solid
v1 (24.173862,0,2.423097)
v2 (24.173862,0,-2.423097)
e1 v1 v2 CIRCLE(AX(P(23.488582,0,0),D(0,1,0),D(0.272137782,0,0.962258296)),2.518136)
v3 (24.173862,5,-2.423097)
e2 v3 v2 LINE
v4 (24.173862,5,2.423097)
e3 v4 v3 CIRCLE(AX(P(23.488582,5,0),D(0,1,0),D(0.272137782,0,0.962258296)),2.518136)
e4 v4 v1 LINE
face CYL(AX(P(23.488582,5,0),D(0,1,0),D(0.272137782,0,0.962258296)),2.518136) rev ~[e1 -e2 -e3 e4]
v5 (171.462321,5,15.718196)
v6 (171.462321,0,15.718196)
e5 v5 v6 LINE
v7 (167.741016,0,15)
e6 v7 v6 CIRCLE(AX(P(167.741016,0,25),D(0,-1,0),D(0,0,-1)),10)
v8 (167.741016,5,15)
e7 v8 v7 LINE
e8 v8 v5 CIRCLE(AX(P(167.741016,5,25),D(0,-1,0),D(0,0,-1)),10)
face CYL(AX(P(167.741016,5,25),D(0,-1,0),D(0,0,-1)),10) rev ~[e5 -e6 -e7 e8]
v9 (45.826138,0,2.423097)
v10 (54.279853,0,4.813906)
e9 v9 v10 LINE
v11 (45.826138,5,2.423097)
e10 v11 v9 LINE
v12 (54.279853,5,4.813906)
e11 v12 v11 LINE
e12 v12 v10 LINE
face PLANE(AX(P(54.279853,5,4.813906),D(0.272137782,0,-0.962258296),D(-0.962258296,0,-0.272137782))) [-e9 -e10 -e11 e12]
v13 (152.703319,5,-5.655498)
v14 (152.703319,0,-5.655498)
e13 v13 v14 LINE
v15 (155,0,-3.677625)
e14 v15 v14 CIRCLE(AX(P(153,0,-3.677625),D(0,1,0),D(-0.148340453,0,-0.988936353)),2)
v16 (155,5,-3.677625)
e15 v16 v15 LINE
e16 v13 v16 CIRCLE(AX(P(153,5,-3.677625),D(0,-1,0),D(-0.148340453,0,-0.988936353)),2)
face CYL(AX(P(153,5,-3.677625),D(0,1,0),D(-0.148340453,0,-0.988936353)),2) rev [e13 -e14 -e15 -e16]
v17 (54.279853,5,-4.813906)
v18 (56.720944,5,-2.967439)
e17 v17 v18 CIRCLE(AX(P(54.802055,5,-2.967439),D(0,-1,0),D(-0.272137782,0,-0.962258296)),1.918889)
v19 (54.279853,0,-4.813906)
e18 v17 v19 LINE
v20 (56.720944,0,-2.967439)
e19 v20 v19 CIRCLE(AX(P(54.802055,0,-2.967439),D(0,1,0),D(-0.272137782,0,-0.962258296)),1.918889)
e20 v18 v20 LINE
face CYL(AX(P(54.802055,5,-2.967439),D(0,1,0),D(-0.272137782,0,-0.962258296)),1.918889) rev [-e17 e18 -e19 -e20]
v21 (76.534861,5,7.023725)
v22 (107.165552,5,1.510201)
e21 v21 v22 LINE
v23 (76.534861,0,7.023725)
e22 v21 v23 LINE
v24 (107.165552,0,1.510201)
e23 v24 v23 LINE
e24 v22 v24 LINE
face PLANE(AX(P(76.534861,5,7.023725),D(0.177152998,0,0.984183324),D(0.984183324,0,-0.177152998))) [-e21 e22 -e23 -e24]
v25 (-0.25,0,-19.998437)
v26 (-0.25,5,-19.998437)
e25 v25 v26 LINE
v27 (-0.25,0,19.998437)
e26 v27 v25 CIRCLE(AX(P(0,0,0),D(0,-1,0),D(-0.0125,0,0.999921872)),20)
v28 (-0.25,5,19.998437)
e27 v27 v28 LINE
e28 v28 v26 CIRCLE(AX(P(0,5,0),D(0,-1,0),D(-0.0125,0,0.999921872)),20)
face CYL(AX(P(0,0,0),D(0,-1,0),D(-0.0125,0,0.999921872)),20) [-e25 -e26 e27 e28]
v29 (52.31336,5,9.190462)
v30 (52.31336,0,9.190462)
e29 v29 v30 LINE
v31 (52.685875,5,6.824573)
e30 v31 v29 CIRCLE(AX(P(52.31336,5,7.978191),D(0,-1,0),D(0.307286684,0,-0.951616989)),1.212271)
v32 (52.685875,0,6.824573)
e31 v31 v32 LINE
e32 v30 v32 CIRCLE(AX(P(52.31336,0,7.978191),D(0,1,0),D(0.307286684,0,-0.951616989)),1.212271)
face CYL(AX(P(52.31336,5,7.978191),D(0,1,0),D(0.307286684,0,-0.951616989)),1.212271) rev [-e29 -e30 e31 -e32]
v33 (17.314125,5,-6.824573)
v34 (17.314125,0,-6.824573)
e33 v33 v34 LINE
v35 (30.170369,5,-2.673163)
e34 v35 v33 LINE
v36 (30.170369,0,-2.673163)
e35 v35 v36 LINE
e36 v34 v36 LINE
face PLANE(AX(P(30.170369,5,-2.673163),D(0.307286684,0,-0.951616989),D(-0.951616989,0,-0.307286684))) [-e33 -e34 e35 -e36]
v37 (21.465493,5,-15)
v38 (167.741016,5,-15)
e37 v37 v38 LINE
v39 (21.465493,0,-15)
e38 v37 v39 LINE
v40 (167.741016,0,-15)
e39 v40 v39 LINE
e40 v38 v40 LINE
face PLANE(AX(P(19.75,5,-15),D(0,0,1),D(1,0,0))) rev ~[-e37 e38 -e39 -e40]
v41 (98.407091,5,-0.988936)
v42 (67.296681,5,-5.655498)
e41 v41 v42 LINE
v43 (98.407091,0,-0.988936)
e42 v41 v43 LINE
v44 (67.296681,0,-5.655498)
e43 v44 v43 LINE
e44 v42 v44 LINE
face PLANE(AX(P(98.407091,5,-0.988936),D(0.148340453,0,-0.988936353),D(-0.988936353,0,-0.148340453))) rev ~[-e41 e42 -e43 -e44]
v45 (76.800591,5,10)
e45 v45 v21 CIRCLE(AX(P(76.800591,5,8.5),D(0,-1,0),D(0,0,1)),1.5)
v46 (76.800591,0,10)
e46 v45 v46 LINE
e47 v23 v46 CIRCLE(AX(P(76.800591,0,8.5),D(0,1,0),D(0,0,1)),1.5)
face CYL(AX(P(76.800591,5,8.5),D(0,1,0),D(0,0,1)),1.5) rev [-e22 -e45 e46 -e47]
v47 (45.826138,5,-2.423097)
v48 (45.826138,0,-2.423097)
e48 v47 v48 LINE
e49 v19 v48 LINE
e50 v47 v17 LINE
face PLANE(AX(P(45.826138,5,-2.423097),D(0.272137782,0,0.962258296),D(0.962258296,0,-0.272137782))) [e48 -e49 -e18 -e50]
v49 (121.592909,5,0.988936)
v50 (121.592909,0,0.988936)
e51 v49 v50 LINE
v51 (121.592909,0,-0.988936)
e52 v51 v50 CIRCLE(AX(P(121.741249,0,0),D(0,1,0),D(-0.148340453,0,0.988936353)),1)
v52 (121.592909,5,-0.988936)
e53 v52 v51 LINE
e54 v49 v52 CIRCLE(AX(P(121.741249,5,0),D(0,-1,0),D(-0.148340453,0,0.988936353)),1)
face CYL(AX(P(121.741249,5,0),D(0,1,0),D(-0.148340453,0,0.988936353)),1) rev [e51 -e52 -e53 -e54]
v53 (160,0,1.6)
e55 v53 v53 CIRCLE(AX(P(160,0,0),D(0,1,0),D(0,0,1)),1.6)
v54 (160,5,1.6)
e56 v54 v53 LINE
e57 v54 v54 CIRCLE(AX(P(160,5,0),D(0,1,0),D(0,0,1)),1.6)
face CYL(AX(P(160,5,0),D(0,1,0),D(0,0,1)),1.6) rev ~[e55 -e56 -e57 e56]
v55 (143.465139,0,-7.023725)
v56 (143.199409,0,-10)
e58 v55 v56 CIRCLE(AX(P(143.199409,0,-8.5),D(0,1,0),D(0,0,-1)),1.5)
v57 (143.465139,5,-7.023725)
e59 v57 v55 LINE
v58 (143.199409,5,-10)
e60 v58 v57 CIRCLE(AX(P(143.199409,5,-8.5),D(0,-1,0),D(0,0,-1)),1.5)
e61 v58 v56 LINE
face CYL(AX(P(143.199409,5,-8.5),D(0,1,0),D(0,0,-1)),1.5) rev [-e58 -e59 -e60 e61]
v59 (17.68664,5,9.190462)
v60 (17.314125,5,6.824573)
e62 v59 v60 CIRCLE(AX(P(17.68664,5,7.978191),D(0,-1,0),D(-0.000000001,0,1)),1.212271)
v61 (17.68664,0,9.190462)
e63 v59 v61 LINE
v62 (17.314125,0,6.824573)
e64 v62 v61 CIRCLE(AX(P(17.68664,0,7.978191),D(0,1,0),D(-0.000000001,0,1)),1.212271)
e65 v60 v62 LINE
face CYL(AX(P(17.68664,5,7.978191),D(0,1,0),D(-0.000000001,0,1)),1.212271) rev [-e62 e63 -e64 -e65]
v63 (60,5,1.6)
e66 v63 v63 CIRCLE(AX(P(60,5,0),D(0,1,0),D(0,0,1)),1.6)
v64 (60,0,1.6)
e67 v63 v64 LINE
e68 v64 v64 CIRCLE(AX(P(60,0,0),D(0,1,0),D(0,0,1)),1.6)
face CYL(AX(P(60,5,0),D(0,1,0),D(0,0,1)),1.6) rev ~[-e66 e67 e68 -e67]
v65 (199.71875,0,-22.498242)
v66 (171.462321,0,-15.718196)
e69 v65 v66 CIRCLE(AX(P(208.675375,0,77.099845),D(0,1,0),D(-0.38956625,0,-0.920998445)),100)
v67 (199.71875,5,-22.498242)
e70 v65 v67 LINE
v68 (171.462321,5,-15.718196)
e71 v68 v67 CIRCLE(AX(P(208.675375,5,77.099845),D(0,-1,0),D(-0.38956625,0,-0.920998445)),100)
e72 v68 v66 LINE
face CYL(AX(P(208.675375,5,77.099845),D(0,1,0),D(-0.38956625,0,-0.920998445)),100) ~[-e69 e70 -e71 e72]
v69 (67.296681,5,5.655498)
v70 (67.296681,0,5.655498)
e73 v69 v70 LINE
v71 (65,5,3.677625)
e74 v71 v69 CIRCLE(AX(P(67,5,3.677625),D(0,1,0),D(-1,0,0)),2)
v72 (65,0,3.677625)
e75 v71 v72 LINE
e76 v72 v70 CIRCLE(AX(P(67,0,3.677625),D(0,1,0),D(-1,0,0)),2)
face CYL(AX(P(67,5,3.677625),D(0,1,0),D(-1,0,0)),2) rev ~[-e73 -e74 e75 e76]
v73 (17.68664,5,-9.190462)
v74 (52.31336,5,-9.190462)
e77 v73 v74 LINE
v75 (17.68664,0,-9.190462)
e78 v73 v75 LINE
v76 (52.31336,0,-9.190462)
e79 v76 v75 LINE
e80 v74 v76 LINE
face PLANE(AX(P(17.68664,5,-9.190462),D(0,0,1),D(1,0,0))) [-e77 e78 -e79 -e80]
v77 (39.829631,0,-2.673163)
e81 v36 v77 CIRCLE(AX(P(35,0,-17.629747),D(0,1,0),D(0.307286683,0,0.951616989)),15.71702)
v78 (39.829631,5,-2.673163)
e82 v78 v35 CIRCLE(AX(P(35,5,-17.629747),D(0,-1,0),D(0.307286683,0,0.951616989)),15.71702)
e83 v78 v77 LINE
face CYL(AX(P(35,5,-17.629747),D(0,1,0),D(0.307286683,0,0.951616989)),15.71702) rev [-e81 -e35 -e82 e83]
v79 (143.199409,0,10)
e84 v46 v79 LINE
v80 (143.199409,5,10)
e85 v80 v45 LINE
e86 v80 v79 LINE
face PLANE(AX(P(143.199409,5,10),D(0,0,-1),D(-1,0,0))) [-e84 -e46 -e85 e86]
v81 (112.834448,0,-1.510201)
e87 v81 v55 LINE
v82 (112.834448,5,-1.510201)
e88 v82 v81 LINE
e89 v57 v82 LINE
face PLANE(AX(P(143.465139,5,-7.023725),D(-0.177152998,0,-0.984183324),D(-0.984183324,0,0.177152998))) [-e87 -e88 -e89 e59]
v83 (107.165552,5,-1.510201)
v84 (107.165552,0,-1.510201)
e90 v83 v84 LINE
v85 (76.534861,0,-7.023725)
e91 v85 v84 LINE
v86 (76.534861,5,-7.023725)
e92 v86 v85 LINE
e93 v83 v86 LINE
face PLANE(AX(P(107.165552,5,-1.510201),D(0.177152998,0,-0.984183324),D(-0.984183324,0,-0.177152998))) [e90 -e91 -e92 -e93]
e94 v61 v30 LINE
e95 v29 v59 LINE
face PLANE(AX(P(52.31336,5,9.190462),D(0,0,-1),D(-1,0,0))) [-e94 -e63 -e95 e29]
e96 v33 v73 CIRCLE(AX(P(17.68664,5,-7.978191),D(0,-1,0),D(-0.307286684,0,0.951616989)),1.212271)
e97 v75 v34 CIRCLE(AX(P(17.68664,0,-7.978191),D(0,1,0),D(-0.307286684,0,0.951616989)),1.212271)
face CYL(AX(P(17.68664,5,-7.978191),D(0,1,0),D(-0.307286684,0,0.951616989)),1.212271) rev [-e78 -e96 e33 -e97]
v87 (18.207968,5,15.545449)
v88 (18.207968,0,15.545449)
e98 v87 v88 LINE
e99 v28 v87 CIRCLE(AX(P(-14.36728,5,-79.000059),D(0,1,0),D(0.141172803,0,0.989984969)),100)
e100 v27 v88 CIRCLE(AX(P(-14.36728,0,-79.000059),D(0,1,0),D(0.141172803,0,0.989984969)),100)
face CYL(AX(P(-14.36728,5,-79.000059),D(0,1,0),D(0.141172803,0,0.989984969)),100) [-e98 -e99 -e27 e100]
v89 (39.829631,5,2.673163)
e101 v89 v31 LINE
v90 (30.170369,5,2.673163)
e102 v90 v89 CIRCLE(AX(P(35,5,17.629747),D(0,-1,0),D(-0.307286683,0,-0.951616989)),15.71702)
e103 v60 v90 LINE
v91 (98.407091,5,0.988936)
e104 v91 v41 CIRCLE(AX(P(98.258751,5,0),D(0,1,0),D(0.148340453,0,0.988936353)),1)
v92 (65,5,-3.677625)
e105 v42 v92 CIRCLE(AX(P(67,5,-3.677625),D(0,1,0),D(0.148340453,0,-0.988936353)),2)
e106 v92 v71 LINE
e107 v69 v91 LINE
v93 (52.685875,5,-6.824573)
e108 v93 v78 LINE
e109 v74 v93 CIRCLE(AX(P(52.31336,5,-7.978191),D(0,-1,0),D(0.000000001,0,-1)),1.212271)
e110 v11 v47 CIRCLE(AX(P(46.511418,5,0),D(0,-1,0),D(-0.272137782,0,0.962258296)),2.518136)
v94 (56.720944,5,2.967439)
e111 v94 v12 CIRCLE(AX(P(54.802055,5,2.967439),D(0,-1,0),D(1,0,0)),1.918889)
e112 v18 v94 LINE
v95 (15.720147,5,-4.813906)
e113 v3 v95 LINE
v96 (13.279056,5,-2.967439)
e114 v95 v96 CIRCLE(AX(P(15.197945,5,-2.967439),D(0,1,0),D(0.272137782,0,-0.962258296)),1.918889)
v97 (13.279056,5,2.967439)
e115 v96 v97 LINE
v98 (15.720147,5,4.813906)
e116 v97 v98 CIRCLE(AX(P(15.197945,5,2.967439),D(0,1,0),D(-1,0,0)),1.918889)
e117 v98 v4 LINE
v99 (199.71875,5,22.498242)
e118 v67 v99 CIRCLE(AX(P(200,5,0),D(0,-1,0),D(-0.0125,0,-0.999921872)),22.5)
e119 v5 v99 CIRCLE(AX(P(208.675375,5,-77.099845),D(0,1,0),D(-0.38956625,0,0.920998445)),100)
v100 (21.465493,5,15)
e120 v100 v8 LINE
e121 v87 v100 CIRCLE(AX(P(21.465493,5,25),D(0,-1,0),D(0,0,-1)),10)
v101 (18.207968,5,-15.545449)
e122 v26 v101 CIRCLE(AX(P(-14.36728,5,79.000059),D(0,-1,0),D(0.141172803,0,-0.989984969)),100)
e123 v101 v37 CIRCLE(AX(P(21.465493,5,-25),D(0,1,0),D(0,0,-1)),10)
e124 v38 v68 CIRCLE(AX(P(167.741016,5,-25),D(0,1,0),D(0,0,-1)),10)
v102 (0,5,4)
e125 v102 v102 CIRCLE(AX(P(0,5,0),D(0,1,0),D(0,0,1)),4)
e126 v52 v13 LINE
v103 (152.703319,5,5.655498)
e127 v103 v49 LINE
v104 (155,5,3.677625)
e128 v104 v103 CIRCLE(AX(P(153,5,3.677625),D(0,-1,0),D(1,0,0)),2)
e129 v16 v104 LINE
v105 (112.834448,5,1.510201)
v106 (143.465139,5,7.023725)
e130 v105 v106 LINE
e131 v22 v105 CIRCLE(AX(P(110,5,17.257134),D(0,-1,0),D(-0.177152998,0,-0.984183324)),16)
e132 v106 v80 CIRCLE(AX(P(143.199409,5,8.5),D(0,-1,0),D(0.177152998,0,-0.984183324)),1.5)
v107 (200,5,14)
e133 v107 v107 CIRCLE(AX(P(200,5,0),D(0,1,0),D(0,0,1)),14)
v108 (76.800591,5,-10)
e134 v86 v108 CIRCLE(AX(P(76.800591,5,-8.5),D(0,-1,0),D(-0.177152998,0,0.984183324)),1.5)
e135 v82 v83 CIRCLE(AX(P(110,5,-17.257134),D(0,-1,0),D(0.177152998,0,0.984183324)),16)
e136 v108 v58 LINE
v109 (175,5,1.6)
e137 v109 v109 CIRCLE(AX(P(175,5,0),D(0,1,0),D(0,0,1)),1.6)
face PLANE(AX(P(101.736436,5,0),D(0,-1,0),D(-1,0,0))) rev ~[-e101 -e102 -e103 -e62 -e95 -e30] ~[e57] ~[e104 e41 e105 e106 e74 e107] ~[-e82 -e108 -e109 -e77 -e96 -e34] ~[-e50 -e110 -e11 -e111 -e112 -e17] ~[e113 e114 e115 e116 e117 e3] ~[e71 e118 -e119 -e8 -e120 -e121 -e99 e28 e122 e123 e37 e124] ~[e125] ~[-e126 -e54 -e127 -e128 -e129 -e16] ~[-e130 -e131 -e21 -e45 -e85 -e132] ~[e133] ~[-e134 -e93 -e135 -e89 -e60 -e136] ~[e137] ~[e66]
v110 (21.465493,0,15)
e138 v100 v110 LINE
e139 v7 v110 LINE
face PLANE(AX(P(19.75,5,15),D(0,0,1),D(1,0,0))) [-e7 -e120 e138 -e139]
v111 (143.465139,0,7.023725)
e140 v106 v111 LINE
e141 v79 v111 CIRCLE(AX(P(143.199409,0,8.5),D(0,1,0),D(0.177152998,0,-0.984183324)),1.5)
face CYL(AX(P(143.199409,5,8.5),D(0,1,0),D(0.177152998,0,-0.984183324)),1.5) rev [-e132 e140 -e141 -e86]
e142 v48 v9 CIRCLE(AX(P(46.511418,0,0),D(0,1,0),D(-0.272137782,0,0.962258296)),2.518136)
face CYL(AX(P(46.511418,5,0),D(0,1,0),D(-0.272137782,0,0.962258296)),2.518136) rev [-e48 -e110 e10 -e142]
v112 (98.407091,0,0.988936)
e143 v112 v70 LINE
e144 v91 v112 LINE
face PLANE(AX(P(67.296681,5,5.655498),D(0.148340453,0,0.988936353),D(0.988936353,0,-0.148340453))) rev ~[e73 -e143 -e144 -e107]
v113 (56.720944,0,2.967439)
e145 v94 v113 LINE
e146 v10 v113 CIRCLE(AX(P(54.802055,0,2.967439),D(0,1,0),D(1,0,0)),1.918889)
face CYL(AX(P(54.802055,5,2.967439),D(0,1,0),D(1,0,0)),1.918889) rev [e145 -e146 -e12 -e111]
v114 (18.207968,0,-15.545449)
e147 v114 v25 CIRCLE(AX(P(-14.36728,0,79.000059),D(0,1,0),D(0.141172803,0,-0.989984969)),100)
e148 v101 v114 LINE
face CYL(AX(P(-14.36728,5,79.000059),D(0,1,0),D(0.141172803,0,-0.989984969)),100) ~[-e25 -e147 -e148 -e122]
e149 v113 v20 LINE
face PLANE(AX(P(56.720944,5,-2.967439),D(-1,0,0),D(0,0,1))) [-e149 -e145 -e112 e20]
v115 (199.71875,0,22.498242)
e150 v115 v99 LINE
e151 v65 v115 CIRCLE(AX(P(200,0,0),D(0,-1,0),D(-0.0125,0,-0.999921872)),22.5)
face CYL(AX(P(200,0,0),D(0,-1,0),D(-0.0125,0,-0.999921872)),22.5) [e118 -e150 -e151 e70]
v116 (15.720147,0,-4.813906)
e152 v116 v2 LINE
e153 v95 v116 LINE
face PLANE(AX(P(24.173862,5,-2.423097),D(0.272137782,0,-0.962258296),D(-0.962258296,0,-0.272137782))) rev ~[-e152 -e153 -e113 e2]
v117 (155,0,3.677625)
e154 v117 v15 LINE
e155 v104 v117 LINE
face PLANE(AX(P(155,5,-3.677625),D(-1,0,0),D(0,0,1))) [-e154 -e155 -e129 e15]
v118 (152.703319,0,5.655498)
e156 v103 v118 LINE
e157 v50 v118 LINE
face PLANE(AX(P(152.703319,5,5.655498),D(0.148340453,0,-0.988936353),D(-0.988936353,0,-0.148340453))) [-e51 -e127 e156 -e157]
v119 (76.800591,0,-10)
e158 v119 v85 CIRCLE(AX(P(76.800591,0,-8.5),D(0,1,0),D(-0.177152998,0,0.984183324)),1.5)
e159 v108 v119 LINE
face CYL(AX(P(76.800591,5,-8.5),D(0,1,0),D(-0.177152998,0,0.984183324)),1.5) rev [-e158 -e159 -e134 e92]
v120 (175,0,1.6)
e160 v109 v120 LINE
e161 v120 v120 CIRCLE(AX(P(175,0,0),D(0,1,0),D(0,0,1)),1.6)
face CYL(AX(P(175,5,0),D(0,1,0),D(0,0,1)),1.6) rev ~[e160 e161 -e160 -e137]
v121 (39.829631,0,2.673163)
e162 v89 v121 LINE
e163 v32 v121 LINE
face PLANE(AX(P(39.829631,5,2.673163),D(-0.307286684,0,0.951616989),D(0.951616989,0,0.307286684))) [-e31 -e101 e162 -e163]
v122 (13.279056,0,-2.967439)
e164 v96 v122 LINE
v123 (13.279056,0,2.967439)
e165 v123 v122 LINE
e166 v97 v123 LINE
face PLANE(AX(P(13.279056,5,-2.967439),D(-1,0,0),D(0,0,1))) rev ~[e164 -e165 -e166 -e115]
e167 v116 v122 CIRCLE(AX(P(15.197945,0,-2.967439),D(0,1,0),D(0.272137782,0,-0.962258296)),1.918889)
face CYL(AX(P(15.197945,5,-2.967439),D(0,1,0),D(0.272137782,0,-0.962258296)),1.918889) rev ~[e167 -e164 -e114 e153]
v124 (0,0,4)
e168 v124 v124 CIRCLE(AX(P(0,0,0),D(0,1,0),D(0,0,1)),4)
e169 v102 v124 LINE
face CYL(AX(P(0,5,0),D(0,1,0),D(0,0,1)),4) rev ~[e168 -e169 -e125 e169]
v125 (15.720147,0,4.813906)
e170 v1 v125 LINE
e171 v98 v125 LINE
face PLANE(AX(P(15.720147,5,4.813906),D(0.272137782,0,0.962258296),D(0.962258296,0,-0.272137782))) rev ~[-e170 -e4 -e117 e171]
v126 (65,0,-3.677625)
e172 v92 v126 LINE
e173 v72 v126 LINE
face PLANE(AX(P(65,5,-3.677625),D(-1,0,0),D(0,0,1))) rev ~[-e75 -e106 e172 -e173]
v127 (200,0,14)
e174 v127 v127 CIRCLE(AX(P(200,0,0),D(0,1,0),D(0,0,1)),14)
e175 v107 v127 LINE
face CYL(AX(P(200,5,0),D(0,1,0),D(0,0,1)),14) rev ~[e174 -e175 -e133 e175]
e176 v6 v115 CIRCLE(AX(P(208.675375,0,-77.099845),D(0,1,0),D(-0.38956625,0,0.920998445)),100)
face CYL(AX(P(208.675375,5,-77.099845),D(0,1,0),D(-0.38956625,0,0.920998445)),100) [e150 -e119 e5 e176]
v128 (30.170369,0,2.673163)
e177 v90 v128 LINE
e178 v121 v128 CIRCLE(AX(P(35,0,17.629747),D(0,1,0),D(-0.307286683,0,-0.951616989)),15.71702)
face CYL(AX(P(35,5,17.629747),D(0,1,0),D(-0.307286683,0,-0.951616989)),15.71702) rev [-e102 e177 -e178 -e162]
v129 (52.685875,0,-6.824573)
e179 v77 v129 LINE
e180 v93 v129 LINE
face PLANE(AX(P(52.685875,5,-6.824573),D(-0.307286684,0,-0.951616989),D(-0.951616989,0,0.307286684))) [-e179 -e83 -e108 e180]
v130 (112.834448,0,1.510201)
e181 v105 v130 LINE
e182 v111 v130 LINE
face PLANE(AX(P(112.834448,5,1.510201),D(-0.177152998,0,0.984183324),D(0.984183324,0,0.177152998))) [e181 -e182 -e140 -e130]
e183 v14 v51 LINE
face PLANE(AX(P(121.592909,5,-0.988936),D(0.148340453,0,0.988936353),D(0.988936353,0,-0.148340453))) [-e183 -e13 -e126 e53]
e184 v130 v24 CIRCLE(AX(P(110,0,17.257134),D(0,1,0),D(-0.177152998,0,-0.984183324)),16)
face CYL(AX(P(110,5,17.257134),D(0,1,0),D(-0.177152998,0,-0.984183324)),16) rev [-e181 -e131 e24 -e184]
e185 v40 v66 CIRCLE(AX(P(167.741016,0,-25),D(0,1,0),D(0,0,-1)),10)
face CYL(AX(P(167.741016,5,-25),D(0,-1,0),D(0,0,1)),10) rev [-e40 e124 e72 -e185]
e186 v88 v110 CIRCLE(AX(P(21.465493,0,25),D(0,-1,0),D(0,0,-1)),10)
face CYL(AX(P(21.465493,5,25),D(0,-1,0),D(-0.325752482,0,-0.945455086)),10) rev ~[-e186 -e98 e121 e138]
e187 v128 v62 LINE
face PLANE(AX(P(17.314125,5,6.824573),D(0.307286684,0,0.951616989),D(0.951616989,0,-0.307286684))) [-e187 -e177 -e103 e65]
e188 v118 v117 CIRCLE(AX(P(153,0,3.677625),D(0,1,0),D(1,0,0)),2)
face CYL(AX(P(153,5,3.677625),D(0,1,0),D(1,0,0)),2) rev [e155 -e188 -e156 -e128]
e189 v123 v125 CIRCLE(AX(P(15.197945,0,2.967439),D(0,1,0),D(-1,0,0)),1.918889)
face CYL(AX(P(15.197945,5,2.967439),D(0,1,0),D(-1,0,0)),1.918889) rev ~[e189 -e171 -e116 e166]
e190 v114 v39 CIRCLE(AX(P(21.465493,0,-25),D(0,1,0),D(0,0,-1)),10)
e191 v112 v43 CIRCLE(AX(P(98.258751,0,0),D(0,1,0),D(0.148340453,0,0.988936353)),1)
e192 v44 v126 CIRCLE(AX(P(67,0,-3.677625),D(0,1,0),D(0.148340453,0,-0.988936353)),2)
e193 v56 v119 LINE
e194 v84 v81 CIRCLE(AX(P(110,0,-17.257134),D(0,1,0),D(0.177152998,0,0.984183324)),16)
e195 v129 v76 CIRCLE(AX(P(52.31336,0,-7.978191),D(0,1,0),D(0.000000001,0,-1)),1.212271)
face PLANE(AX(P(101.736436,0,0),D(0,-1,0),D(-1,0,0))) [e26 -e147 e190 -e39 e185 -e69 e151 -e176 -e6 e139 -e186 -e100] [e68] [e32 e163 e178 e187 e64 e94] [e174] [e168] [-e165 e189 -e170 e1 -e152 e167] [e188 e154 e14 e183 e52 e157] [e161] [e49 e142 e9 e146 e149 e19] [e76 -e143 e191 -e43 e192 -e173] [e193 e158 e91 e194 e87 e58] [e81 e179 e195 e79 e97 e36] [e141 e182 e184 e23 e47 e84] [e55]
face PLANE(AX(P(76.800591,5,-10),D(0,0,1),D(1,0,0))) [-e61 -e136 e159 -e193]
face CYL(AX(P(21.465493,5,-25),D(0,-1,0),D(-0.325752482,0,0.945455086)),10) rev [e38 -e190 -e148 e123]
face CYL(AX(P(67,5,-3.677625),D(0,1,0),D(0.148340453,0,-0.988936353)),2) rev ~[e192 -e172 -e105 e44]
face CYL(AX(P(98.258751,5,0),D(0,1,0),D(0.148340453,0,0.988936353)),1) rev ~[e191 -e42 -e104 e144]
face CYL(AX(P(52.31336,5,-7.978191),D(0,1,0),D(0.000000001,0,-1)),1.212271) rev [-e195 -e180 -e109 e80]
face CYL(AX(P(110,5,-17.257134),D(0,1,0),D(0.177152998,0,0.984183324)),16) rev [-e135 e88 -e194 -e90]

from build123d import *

# Parameters (mm, degrees)
EXTRUDE_1_DEPTH     = 5
SKETCH_2_R          = 4
CUT_EXTRUDE_1_DEPTH = 6
SKETCH_3_R          = 14
CUT_EXTRUDE_2_DEPTH = 10
CUT_EXTRUDE_4_DEPTH = 224.690634583
FILLET_1_R          = 10
SKETCH_11_R         = 1.6
CUT_EXTRUDE_5_DEPTH = 224.690634583
CUT_EXTRUDE_6_DEPTH = 10


with BuildPart() as part:
    # 草图1 → 凸台-拉伸1 (new body)
    with BuildSketch(Plane(origin=(0, 0, 0), x_dir=(1, 0, 0), z_dir=(0, 1, 0))):
        with BuildLine():
            Line((-0.25, 19.998437439), (199.71875, 22.498242119))
            ThreePointArc((199.71875, 22.498242119), (222.5, 0), (199.71875, -22.498242119))
            Line((199.71875, -22.498242119), (-0.25, -19.998437439))
            ThreePointArc((-0.25, -19.998437439), (-20, 0), (-0.25, 19.998437439))
        make_face()
    extrude(amount=EXTRUDE_1_DEPTH)

    # 草图2 → 切除-拉伸1 (cut)
    with BuildSketch(Plane(origin=(0, 5, 0), x_dir=(1, 0, 0), z_dir=(0, 1, 0))):
        with Locations(Location((0, 0, 0), (0, 0, 270))):
            Circle(SKETCH_2_R)
    extrude(amount=-CUT_EXTRUDE_1_DEPTH, mode=Mode.SUBTRACT)

    # 草图3 → 切除-拉伸2 (cut)
    with BuildSketch(Plane(origin=(0, 5, 0), x_dir=(1, 0, 0), z_dir=(0, 1, 0))):
        with Locations(Location((200, 0, 0), (0, 0, 270))):
            Circle(SKETCH_3_R)
    extrude(amount=-CUT_EXTRUDE_2_DEPTH, mode=Mode.SUBTRACT)

    # 草图10 → 切除-拉伸4 (cut, through all)
    with BuildSketch(Plane(origin=(0, 5, 0), x_dir=(1, 0, 0), z_dir=(0, 1, 0))):
        with BuildLine():
            Line((19.75, 15), (169.71875, 15))
            ThreePointArc((169.71875, 15), (184.427162899, 19.915742901), (199.71875, 22.498242119))
            Line((199.71875, 22.498242119), (-0.25, 19.998437439))
            ThreePointArc((-0.25, 19.998437439), (9.879148371, 18.015973695), (19.75, 15))
        make_face()
        with BuildLine():
            Line((19.75, -15), (169.71875, -15))
            ThreePointArc((169.71875, -15), (184.427162899, -19.915742901), (199.71875, -22.498242119))
            Line((199.71875, -22.498242119), (-0.25, -19.998437439))
            ThreePointArc((-0.25, -19.998437439), (9.879148371, -18.015973695), (19.75, -15))
        make_face()
    extrude(amount=-CUT_EXTRUDE_4_DEPTH, mode=Mode.SUBTRACT)

    # 圆角1
    fillet_1_edges = [part.edges().sort_by_distance(p)[0] for p in [
        (169.71875, 2.5, 15),
        (19.75, 2.5, 15),
        (19.75, 2.5, -15),
        (169.71875, 2.5, -15),
    ]]
    fillet(fillet_1_edges, radius=FILLET_1_R)

    # 草图11 → 切除-拉伸5 (cut, through all)
    with BuildSketch(Plane(origin=(0, 5, 0), x_dir=(1, 0, 0), z_dir=(0, 1, 0))):
        with Locations(Location((160, 0, 0), (0, 0, 270))):
            Circle(SKETCH_11_R)
        with Locations(Location((60, 0, 0), (0, 0, 270))):
            Circle(SKETCH_11_R)
        with Locations(Location((175, 0, 0), (0, 0, 270))):
            Circle(SKETCH_11_R)
        with BuildLine():
            Line((76.800590531, 10), (143.199409469, 10))
            ThreePointArc((143.199409469, 10), (144.693466443, 8.633393255), (143.465138967, 7.023725014))
            Line((143.465138967, 7.023725014), (112.834447973, 1.510200635))
            ThreePointArc((112.834447973, 1.510200635), (110, 1.257133819), (107.165552027, 1.510200635))
            Line((107.165552027, 1.510200635), (76.534861033, 7.023725014))
            ThreePointArc((76.534861033, 7.023725014), (75.306533557, 8.633393255), (76.800590531, 10))
        make_face()
        with BuildLine():
            Line((65, 3.677625158), (65, -3.677625158))
            ThreePointArc((65, -3.677625158), (65.694887325, -5.193105579), (67.296680906, -5.655497864))
            Line((67.296680906, -5.655497864), (98.407090981, -0.988936353))
            ThreePointArc((98.407090981, -0.988936353), (99.258750528, 0), (98.407090981, 0.988936353))
            Line((98.407090981, 0.988936353), (67.296680906, 5.655497864))
            ThreePointArc((67.296680906, 5.655497864), (65.694887325, 5.193105579), (65, 3.677625158))
        make_face()
        with BuildLine():
            Line((155, 3.677625158), (155, -3.677625158))
            ThreePointArc((155, -3.677625158), (154.305112675, -5.193105579), (152.703319094, -5.655497864))
            Line((152.703319094, -5.655497864), (121.592909019, -0.988936353))
            ThreePointArc((121.592909019, -0.988936353), (120.741249472, 0), (121.592909019, 0.988936353))
            Line((121.592909019, 0.988936353), (152.703319094, 5.655497864))
            ThreePointArc((152.703319094, 5.655497864), (154.305112675, 5.193105579), (155, 3.677625158))
        make_face()
        with BuildLine():
            Line((76.534861033, -7.023725014), (107.165552027, -1.510200635))
            ThreePointArc((107.165552027, -1.510200635), (110, -1.257133819), (112.834447973, -1.510200635))
            Line((112.834447973, -1.510200635), (143.465138967, -7.023725014))
            ThreePointArc((143.465138967, -7.023725014), (144.693466443, -8.633393255), (143.199409469, -10))
            Line((143.199409469, -10), (76.800590531, -10))
            ThreePointArc((76.800590531, -10), (75.306533557, -8.633393255), (76.534861033, -7.023725014))
        make_face()
    extrude(amount=-CUT_EXTRUDE_5_DEPTH, mode=Mode.SUBTRACT)

    # 草图12 → 切除-拉伸6 (cut)
    with BuildSketch(Plane(origin=(0, 5, 0), x_dir=(1, 0, 0), z_dir=(0, 1, 0))):
        with BuildLine():
            Line((17.686639759, 9.190462064), (52.313360241, 9.190462064))
            ThreePointArc((52.313360241, 9.190462064), (53.510878101, 8.166743105), (52.685874964, 6.82457346))
            Line((52.685874964, 6.82457346), (39.829631092, 2.67316319))
            ThreePointArc((39.829631092, 2.67316319), (35, 1.91272642), (30.170368908, 2.67316319))
            Line((30.170368908, 2.67316319), (17.314125036, 6.82457346))
            ThreePointArc((17.314125036, 6.82457346), (16.489121899, 8.166743105), (17.686639759, 9.190462064))
        make_face()
        with BuildLine():
            Line((13.279055715, 2.967439032), (13.279055715, -2.967439032))
            ThreePointArc((13.279055715, -2.967439032), (14.040342171, -4.497828215), (15.720146666, -4.813905705))
            Line((15.720146666, -4.813905705), (24.173861919, -2.423097202))
            ThreePointArc((24.173861919, -2.423097202), (26.006717933, 0), (24.173861919, 2.423097202))
            Line((24.173861919, 2.423097202), (15.720146666, 4.813905705))
            ThreePointArc((15.720146666, 4.813905705), (14.040342171, 4.497828215), (13.279055715, 2.967439032))
        make_face()
        with BuildLine():
            Line((56.720944285, 2.967439032), (56.720944285, -2.967439032))
            ThreePointArc((56.720944285, -2.967439032), (55.959657829, -4.497828215), (54.279853334, -4.813905705))
            Line((54.279853334, -4.813905705), (45.826138081, -2.423097202))
            ThreePointArc((45.826138081, -2.423097202), (43.993282067, 0), (45.826138081, 2.423097202))
            Line((45.826138081, 2.423097202), (54.279853334, 4.813905705))
            ThreePointArc((54.279853334, 4.813905705), (55.959657829, 4.497828215), (56.720944285, 2.967439032))
        make_face()
        with BuildLine():
            Line((17.314125036, -6.82457346), (30.170368908, -2.67316319))
            ThreePointArc((30.170368908, -2.67316319), (35, -1.91272642), (39.829631092, -2.67316319))
            Line((39.829631092, -2.67316319), (52.685874964, -6.82457346))
            ThreePointArc((52.685874964, -6.82457346), (53.510878101, -8.166743105), (52.313360241, -9.190462064))
            Line((52.313360241, -9.190462064), (17.686639759, -9.190462064))
            ThreePointArc((17.686639759, -9.190462064), (16.489121899, -8.166743105), (17.314125036, -6.82457346))
        make_face()
    extrude(amount=-CUT_EXTRUDE_6_DEPTH, mode=Mode.SUBTRACT)


solid = part.part
